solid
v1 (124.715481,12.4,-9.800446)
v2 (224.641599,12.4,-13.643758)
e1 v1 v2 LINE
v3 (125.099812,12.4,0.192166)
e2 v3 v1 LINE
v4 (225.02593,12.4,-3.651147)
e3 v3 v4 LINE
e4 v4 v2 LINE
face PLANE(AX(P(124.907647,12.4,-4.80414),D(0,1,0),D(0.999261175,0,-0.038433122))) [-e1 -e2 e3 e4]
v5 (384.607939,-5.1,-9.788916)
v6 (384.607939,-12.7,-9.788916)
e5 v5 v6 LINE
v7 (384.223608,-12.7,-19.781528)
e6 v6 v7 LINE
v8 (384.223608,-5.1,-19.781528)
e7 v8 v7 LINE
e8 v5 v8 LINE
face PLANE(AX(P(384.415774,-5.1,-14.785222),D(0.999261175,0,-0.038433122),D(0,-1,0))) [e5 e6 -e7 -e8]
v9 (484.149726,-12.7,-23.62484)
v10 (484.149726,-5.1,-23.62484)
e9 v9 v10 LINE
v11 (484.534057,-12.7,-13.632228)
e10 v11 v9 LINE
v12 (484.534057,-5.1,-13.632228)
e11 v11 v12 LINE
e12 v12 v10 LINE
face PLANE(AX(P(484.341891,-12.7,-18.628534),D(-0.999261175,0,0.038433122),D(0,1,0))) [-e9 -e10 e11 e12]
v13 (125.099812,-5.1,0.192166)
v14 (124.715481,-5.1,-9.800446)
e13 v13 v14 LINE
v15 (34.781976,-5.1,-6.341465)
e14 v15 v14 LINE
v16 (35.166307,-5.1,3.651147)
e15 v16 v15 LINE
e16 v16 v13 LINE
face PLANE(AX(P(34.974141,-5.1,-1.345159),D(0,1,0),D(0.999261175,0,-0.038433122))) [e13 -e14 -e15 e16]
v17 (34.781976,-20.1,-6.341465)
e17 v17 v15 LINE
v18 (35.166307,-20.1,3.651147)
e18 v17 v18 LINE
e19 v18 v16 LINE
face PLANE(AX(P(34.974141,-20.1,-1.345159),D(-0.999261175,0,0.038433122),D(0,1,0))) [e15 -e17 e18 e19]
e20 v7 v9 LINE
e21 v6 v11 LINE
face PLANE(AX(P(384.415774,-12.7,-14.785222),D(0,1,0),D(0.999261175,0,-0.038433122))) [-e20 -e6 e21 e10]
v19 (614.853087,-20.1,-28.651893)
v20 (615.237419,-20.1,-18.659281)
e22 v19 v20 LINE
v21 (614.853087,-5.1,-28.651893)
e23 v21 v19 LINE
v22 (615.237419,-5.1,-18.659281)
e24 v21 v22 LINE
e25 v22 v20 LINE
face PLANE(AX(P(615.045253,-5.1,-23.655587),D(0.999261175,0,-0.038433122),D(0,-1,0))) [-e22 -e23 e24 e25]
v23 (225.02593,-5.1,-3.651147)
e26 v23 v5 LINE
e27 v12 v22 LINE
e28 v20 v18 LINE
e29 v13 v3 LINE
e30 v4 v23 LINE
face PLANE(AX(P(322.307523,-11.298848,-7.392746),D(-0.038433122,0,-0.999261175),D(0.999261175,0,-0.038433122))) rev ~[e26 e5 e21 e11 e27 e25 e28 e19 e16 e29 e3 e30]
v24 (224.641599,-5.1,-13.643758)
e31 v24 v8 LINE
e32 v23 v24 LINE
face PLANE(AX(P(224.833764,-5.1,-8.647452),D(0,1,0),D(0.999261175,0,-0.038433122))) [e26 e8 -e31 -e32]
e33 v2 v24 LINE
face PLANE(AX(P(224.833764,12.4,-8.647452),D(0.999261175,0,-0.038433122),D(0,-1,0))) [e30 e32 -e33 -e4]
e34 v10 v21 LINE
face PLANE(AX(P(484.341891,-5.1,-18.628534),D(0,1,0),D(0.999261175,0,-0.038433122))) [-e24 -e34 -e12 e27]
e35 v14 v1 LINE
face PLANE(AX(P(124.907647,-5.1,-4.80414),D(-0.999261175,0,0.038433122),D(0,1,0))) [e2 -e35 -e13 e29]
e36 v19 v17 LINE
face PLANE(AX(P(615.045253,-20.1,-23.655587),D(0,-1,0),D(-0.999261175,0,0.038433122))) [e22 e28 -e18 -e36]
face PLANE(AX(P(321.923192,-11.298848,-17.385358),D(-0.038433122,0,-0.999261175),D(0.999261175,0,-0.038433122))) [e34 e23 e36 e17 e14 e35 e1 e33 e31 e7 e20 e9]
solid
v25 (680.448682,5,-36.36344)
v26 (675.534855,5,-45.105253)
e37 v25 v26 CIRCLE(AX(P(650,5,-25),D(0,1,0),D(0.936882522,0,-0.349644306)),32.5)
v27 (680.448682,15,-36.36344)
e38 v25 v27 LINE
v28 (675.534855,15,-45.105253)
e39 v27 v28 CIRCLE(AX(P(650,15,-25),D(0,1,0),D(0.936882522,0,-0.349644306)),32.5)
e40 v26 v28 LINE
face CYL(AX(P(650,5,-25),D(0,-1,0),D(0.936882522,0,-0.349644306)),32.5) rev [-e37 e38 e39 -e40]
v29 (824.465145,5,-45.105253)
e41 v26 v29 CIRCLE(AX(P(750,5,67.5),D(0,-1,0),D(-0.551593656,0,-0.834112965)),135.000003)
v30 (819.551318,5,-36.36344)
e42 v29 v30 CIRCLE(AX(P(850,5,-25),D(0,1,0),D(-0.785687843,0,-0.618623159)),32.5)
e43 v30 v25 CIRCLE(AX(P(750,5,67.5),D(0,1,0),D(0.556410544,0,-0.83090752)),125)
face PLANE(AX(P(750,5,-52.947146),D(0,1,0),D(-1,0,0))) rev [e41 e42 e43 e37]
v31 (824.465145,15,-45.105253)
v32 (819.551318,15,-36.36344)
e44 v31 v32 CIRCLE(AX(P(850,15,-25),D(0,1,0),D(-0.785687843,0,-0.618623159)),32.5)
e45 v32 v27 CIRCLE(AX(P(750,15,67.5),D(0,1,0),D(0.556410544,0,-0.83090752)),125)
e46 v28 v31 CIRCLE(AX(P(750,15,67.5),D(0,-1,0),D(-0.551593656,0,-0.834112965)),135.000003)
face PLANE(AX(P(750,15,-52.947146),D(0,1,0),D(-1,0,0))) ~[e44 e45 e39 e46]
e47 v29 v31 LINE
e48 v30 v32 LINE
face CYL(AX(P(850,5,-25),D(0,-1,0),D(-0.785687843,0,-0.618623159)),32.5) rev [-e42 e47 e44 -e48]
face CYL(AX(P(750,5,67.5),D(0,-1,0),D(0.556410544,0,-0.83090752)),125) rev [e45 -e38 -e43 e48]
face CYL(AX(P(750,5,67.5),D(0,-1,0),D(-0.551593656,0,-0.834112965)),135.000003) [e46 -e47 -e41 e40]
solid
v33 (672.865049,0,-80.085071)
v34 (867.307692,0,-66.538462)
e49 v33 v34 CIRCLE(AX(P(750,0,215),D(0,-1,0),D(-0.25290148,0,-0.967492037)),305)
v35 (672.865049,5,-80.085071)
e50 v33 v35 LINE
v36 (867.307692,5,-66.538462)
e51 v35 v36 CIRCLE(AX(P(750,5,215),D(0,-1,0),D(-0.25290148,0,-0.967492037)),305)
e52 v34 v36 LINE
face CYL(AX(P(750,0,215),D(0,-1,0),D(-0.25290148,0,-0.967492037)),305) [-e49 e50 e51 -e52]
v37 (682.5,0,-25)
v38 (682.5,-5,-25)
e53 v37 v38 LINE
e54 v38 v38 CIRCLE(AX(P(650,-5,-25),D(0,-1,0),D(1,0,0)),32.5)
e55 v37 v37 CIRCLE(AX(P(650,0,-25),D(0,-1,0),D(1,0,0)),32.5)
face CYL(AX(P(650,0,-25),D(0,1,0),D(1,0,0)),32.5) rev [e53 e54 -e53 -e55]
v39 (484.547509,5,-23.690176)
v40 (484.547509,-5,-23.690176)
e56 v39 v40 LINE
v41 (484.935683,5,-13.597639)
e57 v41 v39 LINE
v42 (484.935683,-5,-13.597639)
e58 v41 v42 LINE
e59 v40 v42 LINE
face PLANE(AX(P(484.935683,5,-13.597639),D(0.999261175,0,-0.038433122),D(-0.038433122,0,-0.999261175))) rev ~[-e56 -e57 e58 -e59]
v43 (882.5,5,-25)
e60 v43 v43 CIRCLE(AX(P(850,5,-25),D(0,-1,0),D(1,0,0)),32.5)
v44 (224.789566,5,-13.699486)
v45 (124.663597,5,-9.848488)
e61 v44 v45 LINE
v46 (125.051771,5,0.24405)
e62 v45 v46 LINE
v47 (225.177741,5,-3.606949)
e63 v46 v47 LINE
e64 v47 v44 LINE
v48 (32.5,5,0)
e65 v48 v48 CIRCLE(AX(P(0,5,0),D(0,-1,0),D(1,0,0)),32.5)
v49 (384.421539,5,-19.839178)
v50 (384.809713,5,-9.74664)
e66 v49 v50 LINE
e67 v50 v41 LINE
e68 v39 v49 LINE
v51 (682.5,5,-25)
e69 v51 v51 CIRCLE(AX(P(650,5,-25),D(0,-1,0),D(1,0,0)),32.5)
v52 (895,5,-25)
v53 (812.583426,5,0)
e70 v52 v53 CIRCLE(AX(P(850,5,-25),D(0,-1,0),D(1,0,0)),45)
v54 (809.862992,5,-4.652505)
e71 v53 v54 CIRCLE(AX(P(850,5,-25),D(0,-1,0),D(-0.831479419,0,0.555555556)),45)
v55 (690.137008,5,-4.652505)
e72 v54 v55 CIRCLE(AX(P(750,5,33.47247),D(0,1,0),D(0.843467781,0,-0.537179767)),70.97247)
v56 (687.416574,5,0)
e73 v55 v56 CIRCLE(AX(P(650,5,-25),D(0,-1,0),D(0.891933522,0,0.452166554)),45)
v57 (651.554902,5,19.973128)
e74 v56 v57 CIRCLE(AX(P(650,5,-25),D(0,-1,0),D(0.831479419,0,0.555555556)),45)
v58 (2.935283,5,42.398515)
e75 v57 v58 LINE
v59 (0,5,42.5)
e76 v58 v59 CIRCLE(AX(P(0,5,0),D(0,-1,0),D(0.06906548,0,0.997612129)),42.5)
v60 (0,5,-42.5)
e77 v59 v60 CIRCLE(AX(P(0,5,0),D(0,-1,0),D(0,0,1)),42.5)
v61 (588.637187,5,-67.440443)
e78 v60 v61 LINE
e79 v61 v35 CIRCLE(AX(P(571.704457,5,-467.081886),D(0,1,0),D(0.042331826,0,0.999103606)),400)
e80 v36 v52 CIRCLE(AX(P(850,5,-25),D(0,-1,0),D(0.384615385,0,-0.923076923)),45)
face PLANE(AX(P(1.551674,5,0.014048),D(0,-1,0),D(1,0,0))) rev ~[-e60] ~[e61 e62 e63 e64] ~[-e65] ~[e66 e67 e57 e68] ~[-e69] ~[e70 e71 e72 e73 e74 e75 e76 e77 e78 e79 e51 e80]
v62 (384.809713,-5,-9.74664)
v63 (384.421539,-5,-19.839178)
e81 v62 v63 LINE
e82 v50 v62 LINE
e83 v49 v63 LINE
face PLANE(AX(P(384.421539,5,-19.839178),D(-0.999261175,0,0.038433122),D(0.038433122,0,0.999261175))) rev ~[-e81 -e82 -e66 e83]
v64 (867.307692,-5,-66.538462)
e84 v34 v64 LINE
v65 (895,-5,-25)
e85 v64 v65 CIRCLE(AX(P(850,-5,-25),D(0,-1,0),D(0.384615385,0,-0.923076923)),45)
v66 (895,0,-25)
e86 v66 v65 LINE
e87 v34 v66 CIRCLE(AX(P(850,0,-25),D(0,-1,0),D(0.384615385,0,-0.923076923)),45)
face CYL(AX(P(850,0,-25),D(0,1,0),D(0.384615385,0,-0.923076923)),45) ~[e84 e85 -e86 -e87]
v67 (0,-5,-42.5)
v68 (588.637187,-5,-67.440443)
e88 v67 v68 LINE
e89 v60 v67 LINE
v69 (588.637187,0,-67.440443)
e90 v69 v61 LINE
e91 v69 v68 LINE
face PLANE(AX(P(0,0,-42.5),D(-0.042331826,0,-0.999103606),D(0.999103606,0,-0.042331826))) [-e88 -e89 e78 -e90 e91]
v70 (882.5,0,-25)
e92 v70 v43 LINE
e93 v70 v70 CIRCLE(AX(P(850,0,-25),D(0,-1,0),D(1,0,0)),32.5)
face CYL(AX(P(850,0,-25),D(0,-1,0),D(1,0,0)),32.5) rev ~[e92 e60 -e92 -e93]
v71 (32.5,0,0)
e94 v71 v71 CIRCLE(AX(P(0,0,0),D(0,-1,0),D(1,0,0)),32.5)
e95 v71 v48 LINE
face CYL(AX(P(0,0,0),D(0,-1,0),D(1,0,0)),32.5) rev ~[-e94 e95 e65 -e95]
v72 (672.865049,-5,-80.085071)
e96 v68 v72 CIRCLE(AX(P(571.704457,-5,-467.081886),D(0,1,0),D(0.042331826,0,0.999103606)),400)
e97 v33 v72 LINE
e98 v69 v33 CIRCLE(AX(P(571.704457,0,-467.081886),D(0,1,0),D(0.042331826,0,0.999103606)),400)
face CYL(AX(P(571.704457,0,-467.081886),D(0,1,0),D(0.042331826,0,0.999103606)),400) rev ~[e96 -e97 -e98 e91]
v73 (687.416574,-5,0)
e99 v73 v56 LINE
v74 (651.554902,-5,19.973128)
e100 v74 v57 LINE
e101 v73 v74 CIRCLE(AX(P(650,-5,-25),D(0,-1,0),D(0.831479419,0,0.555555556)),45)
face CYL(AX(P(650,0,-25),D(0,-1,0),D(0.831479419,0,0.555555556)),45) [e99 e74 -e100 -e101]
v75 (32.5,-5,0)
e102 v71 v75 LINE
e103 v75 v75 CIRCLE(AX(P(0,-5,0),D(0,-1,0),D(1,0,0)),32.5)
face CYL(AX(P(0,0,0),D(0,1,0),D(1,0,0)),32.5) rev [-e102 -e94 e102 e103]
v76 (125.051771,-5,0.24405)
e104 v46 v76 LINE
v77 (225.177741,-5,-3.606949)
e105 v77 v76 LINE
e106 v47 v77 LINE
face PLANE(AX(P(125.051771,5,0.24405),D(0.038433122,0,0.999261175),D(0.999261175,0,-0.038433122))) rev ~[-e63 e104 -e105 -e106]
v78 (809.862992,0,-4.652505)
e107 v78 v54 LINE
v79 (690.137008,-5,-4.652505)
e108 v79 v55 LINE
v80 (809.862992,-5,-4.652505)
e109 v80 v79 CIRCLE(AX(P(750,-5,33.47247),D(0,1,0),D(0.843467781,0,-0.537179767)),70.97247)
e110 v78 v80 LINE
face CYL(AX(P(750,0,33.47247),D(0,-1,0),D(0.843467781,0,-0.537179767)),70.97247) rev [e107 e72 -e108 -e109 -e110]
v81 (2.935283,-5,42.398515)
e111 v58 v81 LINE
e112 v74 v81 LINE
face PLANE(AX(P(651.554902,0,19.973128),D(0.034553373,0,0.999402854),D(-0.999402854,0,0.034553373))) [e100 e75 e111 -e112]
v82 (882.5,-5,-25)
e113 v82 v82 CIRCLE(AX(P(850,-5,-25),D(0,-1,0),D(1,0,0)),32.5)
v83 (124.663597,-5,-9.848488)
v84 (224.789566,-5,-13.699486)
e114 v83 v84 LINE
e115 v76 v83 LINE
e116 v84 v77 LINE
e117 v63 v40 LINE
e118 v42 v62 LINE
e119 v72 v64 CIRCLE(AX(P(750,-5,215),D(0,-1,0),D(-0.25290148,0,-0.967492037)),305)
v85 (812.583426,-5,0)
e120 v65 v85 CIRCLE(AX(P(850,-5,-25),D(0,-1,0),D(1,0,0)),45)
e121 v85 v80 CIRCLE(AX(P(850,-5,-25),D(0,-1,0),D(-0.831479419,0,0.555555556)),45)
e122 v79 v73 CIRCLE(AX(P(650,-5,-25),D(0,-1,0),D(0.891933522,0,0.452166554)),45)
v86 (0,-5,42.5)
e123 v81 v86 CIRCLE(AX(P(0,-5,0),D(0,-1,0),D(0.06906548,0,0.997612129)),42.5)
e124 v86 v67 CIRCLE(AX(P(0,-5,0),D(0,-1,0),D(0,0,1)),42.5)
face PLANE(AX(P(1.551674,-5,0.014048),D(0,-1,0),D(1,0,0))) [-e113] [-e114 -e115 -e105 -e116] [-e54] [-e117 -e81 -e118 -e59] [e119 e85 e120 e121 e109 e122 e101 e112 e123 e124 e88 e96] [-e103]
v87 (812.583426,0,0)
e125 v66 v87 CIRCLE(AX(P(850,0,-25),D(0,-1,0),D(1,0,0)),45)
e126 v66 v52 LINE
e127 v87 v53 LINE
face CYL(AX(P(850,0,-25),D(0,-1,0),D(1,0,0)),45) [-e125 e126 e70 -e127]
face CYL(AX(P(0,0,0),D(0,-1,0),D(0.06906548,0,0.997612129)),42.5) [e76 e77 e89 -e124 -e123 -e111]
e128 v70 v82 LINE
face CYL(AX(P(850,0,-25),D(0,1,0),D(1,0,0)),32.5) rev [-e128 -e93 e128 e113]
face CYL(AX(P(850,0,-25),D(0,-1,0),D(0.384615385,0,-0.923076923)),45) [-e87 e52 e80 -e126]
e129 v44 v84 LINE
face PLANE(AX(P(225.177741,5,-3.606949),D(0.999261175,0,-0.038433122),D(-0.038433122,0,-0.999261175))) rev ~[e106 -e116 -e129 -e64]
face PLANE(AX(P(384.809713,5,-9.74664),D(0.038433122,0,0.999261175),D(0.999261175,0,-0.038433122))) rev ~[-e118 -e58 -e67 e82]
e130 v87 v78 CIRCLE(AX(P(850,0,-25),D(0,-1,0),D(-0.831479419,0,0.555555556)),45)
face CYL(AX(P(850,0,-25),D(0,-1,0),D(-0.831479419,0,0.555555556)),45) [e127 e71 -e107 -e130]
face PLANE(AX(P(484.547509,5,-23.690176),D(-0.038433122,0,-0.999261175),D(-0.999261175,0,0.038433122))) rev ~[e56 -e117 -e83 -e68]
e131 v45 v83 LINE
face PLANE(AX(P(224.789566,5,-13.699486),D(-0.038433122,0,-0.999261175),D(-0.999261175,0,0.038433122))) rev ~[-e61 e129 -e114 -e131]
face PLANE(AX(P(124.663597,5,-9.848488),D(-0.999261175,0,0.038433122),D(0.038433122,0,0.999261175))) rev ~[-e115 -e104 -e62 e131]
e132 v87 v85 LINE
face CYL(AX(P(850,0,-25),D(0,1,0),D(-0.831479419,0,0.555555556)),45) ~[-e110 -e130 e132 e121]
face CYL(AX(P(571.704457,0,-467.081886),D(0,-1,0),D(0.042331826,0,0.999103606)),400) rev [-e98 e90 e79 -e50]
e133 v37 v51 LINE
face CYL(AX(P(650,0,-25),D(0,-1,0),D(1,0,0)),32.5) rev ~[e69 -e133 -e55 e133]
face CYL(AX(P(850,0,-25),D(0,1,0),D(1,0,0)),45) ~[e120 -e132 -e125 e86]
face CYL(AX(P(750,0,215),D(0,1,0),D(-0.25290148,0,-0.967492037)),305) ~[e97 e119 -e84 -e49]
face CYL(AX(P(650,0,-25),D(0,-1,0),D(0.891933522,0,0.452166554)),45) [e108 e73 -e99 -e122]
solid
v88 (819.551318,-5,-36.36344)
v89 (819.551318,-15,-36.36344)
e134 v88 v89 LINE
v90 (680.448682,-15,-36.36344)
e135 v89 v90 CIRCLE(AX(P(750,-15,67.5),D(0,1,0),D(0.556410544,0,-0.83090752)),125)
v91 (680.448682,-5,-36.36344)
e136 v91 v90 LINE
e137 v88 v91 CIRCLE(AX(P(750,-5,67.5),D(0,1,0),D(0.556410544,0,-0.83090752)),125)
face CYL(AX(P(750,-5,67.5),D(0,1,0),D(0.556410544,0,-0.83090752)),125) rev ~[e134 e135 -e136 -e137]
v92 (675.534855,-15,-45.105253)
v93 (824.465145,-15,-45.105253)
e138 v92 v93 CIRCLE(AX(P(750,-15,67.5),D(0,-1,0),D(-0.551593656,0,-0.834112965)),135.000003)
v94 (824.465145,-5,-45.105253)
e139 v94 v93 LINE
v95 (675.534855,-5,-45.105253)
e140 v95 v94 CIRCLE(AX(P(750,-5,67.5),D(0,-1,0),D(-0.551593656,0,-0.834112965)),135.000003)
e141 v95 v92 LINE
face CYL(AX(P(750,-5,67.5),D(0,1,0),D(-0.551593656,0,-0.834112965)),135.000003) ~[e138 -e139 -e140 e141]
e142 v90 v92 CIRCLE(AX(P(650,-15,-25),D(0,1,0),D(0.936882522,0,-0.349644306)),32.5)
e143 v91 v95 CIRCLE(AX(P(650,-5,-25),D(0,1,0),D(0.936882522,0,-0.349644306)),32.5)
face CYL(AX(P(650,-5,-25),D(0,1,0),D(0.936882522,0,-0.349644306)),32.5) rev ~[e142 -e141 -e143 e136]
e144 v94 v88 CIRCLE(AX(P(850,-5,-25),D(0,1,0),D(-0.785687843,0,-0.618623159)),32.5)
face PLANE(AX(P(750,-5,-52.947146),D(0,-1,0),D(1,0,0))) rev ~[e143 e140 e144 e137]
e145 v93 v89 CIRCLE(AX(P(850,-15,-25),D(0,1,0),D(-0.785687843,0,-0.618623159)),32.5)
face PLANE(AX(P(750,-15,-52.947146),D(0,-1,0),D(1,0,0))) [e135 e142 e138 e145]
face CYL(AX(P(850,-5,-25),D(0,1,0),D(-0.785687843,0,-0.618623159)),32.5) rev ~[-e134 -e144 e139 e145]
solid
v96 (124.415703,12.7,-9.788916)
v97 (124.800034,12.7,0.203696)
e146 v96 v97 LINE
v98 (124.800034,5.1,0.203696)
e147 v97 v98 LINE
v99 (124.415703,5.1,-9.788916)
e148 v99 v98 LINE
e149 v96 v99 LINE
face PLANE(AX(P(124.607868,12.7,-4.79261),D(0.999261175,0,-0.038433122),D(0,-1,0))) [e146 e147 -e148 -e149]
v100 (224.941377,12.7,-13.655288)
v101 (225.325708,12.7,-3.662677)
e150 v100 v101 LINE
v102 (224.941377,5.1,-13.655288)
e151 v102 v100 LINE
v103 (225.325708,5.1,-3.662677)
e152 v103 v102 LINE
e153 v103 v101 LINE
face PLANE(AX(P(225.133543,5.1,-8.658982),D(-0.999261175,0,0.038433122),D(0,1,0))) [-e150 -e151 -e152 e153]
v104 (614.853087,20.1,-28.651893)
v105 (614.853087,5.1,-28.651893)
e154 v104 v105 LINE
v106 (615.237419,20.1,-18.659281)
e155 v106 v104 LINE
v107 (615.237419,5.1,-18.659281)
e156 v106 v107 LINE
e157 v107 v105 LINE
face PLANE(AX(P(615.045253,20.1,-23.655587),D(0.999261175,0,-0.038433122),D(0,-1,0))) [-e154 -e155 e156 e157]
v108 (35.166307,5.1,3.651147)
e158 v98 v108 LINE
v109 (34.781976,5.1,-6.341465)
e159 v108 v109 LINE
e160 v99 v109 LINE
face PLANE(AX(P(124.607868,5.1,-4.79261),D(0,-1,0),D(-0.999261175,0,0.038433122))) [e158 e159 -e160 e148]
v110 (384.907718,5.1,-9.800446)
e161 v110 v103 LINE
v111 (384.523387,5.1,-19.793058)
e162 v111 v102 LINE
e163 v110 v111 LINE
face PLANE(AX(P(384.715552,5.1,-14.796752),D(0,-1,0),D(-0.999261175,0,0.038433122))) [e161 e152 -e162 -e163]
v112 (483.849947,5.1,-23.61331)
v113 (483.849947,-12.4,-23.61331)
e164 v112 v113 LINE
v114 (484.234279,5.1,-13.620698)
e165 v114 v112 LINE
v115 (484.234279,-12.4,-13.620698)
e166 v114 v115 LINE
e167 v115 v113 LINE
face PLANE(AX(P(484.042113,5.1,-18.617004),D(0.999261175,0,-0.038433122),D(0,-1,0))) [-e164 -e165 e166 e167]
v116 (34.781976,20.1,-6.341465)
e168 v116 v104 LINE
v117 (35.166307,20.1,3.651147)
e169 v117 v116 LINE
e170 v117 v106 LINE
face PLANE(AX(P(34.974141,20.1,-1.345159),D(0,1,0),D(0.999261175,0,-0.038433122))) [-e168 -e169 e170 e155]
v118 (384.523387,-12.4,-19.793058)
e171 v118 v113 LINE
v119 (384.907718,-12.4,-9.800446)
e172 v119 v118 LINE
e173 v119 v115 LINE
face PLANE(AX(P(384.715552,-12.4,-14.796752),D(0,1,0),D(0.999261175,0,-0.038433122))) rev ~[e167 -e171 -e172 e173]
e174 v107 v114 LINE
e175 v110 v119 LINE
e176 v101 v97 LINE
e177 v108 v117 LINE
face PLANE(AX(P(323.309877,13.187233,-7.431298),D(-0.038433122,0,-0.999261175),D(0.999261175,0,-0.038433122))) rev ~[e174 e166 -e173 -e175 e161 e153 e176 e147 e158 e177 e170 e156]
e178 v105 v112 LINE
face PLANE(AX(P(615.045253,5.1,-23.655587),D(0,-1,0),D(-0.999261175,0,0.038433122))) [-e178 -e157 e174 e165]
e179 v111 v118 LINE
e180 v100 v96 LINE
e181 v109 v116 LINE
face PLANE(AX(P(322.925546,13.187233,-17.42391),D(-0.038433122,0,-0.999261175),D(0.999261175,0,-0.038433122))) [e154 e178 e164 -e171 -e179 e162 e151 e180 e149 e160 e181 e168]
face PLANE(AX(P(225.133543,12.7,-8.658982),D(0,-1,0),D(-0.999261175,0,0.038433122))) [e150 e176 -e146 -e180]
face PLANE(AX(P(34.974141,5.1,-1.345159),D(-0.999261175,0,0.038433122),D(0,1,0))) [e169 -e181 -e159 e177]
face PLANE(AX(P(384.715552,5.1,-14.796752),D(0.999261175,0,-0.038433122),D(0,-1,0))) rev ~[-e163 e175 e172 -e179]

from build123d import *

# Parameters (mm, degrees)
F0_R          = 32.5
F1_DEPTH      = 5
F1_DEPTH_BACK = 5
F5_DEPTH      = 25
F6_DEPTH      = 5
F6_DEPTH_BACK = 5
F4_W          = 99.4
F4_H          = 17.5
F8_DEPTH      = 10


with BuildPart() as f1:
    # F0 (on Front) → F1 (new body, two sides)
    with BuildSketch(Plane.XZ) as f1_sk:
        with BuildLine():
            ThreePointArc((15.2901799608, 39.6542607643), (7.6425019123, 41.0632246714), (0, 42.5))
            ThreePointArc((0, 42.5), (-42.5, 0), (0, -42.5))
            ThreePointArc((0, -42.5), (4.6811187295, -41.9725217651), (9.3634275195, -41.4557140222))
            ThreePointArc((9.3634275195, -41.4557140222), (33.1978588886, -26.535865639), (42.5, 0))
            ThreePointArc((42.5, 0), (35.0434205546, 24.0459700539), (15.2901799608, 39.6542607643))
        make_face()
        Circle(F0_R, mode=Mode.SUBTRACT)
        with BuildLine():
            ThreePointArc((2.9352828897, 42.3985154735), (1.4685183648, 42.474621291), (0, 42.5))
            Line((0, 42.5), (2.9352828897, 42.3985154735))
        make_face()
        with BuildLine():
            Line((2.9352828897, 42.3985154735), (0, 42.5))
            ThreePointArc((0, 42.5), (7.6425019123, 41.0632246714), (15.2901799608, 39.6542607643))
            ThreePointArc((15.2901799608, 39.6542607643), (9.2154548182, 41.488858655), (2.9352828897, 42.3985154735))
        make_face()
        with BuildLine():
            ThreePointArc((9.3634275195, -41.4557140222), (4.6811187295, -41.9725217651), (0, -42.5))
            ThreePointArc((0, -42.5), (4.710740603, -42.238121679), (9.3634275195, -41.4557140222))
        make_face()
        with BuildLine():
            ThreePointArc((9.3634275195, -41.4557140222), (4.710740603, -42.238121679), (0, -42.5))
            Line((0, -42.5), (588.6371870725, -67.4404434194))
            ThreePointArc((588.6371870725, -67.4404434194), (631.0886283847, -71.5145464261), (672.865048635, -80.0850712556))
            ThreePointArc((672.865048635, -80.0850712556), (656.4952738109, -75.3133930433), (640.417736754, -69.6343752639))
            ThreePointArc((640.417736754, -69.6343752639), (325.9734547012, -31.2943752337), (9.3634275195, -41.4557140222))
        make_face()
        with BuildLine():
            Line((651.5549017981, 19.9731284257), (2.9352828897, 42.3985154735))
            ThreePointArc((2.9352828897, 42.3985154735), (9.2154548182, 41.488858655), (15.2901799608, 39.6542607643))
            ThreePointArc((15.2901799608, 39.6542607643), (332.6858335017, 5.9969290407), (651.5549017981, 19.9731284257))
        make_face()
        with BuildLine():
            ThreePointArc((651.5549017981, 19.9731284257), (332.6858335017, 5.9969290407), (15.2901799608, 39.6542607643))
            ThreePointArc((15.2901799608, 39.6542607643), (35.0434205546, 24.0459700539), (42.5, 0))
            ThreePointArc((42.5, 0), (33.1978588886, -26.535865639), (9.3634275195, -41.4557140222))
            ThreePointArc((9.3634275195, -41.4557140222), (325.9734547012, -31.2943752337), (640.417736754, -69.6343752639))
            ThreePointArc((640.417736754, -69.6343752639), (656.4952738109, -75.3133930433), (672.865048635, -80.0850712556))
            ThreePointArc((672.865048635, -80.0850712556), (771.1976399021, -89.262485467), (867.3076923077, -66.5384615385))
            ThreePointArc((867.3076923077, -66.5384615385), (817.0187580388, -55.6143377962), (809.8629915161, -4.652505069))
            ThreePointArc((809.8629915161, -4.652505069), (750, -37.5), (690.1370084839, -4.652505069))
            ThreePointArc((690.1370084839, -4.652505069), (688.7326126754, -2.3520847948), (687.4165738677, 0))
            ThreePointArc((687.4165738677, 0), (671.8957859797, 14.3137960051), (651.5549017981, 19.9731284257))
        make_face()
        with Locations((650, -25)):
            Circle(F0_R, mode=Mode.SUBTRACT)
        with BuildLine():
            ThreePointArc((690.1370084839, -4.652505069), (688.846505438, -2.2854888837), (687.4165738677, 0))
            ThreePointArc((687.4165738677, 0), (688.7326126754, -2.3520847948), (690.1370084839, -4.652505069))
        make_face()
        with BuildLine():
            ThreePointArc((809.8629915161, -4.652505069), (817.0187580388, -55.6143377962), (867.3076923077, -66.5384615385))
            ThreePointArc((867.3076923077, -66.5384615385), (887.4422632452, -49.9615088301), (895, -25))
            ThreePointArc((895, -25), (863.0624304008, 18.0624304008), (812.5834261323, 0))
            ThreePointArc((812.5834261323, 0), (811.2673873246, -2.3520847948), (809.8629915161, -4.652505069))
        make_face()
        with Locations((850, -25)):
            Circle(F0_R, mode=Mode.SUBTRACT)
        with BuildLine():
            ThreePointArc((812.5834261323, 0), (811.153494562, -2.2854888837), (809.8629915161, -4.652505069))
            ThreePointArc((809.8629915161, -4.652505069), (811.2673873246, -2.3520847948), (812.5834261323, 0))
        make_face()
    extrude(amount=F1_DEPTH)
    extrude(f1_sk.sketch, amount=-F1_DEPTH_BACK)

    # F2 (on face) → F5 (cut)
    with BuildSketch(Plane(origin=(0, 5, 0), x_dir=(-1, 0, 0), z_dir=(0, 1, 0))):
        Polygon((-484.9356830803, -13.5976385994), (-484.547508547, -23.6901764632), (-384.421538849, -19.8391776286), (-384.8097133822, -9.7466397649), align=None)
        Polygon((-125.0517710368, 0.2440503253), (-225.1777407349, -3.6069485092), (-224.7895662016, -13.699486373), (-124.6635965036, -9.8484875384), align=None)
    extrude(amount=-F5_DEPTH, mode=Mode.SUBTRACT)


with BuildPart() as f6:
    # F4 (on 3pt) → F6 (new body, two sides)
    with BuildSketch(Plane(origin=(0, 0, 0), x_dir=(0.9992611746, 0, -0.0384331221), z_dir=(-0.0384331221, 0, -0.9992611746))) as f6_sk:
        Polygon((35, 20.1), (35, 5.1), (125, 5.1), (125, -12.4), (225, -12.4), (225, 5.1), (384.7, 5.1), (384.7, 12.7), (484.7, 12.7), (484.7, 5.1), (615.5, 5.1), (615.5, 20.1), align=None)
    extrude(amount=F6_DEPTH)
    extrude(f6_sk.sketch, amount=-F6_DEPTH_BACK)


with BuildPart() as f6b:
    # F4 (on 3pt) → F6, piece 2 (new body, two sides)
    with BuildSketch(Plane(origin=(0, 0, 0), x_dir=(0.9992611746, 0, -0.0384331221), z_dir=(-0.0384331221, 0, -0.9992611746))) as f6_2_sk:
        Polygon((124.7, -5.1), (35, -5.1), (35, -20.1), (615.5, -20.1), (615.5, -5.1), (484.4, -5.1), (385, -5.1), (225.3, -5.1), (225.3, -12.7), (124.7, -12.7), align=None)
        with Locations((434.7, 3.65)):
            Rectangle(F4_W, F4_H)
    extrude(amount=F6_DEPTH)
    extrude(f6_2_sk.sketch, amount=-F6_DEPTH_BACK)


with BuildPart() as f8:
    # F7 (on face) → F8 (new body)
    with BuildSketch(Plane.XZ.offset(5)):
        with BuildLine():
            ThreePointArc((819.5513180488, -36.3634399472), (750, -57.5), (680.4486819512, -36.3634399472))
            ThreePointArc((680.4486819512, -36.3634399472), (678.3309710788, -40.9250142145), (675.5348549099, -45.1052526651))
            ThreePointArc((675.5348549099, -45.1052526651), (750, -67.5000028187), (824.4651450901, -45.1052526651))
            ThreePointArc((824.4651450901, -45.1052526651), (821.6690289212, -40.9250142145), (819.5513180488, -36.3634399472))
        make_face()
    extrude(amount=F8_DEPTH)


with BuildPart() as f9_1:
    # F9: instance of F8
    add(f8.part.mirror(Plane.XZ))


solid = Compound([f1.part, f6.part, f6b.part, f8.part, f9_1.part])
